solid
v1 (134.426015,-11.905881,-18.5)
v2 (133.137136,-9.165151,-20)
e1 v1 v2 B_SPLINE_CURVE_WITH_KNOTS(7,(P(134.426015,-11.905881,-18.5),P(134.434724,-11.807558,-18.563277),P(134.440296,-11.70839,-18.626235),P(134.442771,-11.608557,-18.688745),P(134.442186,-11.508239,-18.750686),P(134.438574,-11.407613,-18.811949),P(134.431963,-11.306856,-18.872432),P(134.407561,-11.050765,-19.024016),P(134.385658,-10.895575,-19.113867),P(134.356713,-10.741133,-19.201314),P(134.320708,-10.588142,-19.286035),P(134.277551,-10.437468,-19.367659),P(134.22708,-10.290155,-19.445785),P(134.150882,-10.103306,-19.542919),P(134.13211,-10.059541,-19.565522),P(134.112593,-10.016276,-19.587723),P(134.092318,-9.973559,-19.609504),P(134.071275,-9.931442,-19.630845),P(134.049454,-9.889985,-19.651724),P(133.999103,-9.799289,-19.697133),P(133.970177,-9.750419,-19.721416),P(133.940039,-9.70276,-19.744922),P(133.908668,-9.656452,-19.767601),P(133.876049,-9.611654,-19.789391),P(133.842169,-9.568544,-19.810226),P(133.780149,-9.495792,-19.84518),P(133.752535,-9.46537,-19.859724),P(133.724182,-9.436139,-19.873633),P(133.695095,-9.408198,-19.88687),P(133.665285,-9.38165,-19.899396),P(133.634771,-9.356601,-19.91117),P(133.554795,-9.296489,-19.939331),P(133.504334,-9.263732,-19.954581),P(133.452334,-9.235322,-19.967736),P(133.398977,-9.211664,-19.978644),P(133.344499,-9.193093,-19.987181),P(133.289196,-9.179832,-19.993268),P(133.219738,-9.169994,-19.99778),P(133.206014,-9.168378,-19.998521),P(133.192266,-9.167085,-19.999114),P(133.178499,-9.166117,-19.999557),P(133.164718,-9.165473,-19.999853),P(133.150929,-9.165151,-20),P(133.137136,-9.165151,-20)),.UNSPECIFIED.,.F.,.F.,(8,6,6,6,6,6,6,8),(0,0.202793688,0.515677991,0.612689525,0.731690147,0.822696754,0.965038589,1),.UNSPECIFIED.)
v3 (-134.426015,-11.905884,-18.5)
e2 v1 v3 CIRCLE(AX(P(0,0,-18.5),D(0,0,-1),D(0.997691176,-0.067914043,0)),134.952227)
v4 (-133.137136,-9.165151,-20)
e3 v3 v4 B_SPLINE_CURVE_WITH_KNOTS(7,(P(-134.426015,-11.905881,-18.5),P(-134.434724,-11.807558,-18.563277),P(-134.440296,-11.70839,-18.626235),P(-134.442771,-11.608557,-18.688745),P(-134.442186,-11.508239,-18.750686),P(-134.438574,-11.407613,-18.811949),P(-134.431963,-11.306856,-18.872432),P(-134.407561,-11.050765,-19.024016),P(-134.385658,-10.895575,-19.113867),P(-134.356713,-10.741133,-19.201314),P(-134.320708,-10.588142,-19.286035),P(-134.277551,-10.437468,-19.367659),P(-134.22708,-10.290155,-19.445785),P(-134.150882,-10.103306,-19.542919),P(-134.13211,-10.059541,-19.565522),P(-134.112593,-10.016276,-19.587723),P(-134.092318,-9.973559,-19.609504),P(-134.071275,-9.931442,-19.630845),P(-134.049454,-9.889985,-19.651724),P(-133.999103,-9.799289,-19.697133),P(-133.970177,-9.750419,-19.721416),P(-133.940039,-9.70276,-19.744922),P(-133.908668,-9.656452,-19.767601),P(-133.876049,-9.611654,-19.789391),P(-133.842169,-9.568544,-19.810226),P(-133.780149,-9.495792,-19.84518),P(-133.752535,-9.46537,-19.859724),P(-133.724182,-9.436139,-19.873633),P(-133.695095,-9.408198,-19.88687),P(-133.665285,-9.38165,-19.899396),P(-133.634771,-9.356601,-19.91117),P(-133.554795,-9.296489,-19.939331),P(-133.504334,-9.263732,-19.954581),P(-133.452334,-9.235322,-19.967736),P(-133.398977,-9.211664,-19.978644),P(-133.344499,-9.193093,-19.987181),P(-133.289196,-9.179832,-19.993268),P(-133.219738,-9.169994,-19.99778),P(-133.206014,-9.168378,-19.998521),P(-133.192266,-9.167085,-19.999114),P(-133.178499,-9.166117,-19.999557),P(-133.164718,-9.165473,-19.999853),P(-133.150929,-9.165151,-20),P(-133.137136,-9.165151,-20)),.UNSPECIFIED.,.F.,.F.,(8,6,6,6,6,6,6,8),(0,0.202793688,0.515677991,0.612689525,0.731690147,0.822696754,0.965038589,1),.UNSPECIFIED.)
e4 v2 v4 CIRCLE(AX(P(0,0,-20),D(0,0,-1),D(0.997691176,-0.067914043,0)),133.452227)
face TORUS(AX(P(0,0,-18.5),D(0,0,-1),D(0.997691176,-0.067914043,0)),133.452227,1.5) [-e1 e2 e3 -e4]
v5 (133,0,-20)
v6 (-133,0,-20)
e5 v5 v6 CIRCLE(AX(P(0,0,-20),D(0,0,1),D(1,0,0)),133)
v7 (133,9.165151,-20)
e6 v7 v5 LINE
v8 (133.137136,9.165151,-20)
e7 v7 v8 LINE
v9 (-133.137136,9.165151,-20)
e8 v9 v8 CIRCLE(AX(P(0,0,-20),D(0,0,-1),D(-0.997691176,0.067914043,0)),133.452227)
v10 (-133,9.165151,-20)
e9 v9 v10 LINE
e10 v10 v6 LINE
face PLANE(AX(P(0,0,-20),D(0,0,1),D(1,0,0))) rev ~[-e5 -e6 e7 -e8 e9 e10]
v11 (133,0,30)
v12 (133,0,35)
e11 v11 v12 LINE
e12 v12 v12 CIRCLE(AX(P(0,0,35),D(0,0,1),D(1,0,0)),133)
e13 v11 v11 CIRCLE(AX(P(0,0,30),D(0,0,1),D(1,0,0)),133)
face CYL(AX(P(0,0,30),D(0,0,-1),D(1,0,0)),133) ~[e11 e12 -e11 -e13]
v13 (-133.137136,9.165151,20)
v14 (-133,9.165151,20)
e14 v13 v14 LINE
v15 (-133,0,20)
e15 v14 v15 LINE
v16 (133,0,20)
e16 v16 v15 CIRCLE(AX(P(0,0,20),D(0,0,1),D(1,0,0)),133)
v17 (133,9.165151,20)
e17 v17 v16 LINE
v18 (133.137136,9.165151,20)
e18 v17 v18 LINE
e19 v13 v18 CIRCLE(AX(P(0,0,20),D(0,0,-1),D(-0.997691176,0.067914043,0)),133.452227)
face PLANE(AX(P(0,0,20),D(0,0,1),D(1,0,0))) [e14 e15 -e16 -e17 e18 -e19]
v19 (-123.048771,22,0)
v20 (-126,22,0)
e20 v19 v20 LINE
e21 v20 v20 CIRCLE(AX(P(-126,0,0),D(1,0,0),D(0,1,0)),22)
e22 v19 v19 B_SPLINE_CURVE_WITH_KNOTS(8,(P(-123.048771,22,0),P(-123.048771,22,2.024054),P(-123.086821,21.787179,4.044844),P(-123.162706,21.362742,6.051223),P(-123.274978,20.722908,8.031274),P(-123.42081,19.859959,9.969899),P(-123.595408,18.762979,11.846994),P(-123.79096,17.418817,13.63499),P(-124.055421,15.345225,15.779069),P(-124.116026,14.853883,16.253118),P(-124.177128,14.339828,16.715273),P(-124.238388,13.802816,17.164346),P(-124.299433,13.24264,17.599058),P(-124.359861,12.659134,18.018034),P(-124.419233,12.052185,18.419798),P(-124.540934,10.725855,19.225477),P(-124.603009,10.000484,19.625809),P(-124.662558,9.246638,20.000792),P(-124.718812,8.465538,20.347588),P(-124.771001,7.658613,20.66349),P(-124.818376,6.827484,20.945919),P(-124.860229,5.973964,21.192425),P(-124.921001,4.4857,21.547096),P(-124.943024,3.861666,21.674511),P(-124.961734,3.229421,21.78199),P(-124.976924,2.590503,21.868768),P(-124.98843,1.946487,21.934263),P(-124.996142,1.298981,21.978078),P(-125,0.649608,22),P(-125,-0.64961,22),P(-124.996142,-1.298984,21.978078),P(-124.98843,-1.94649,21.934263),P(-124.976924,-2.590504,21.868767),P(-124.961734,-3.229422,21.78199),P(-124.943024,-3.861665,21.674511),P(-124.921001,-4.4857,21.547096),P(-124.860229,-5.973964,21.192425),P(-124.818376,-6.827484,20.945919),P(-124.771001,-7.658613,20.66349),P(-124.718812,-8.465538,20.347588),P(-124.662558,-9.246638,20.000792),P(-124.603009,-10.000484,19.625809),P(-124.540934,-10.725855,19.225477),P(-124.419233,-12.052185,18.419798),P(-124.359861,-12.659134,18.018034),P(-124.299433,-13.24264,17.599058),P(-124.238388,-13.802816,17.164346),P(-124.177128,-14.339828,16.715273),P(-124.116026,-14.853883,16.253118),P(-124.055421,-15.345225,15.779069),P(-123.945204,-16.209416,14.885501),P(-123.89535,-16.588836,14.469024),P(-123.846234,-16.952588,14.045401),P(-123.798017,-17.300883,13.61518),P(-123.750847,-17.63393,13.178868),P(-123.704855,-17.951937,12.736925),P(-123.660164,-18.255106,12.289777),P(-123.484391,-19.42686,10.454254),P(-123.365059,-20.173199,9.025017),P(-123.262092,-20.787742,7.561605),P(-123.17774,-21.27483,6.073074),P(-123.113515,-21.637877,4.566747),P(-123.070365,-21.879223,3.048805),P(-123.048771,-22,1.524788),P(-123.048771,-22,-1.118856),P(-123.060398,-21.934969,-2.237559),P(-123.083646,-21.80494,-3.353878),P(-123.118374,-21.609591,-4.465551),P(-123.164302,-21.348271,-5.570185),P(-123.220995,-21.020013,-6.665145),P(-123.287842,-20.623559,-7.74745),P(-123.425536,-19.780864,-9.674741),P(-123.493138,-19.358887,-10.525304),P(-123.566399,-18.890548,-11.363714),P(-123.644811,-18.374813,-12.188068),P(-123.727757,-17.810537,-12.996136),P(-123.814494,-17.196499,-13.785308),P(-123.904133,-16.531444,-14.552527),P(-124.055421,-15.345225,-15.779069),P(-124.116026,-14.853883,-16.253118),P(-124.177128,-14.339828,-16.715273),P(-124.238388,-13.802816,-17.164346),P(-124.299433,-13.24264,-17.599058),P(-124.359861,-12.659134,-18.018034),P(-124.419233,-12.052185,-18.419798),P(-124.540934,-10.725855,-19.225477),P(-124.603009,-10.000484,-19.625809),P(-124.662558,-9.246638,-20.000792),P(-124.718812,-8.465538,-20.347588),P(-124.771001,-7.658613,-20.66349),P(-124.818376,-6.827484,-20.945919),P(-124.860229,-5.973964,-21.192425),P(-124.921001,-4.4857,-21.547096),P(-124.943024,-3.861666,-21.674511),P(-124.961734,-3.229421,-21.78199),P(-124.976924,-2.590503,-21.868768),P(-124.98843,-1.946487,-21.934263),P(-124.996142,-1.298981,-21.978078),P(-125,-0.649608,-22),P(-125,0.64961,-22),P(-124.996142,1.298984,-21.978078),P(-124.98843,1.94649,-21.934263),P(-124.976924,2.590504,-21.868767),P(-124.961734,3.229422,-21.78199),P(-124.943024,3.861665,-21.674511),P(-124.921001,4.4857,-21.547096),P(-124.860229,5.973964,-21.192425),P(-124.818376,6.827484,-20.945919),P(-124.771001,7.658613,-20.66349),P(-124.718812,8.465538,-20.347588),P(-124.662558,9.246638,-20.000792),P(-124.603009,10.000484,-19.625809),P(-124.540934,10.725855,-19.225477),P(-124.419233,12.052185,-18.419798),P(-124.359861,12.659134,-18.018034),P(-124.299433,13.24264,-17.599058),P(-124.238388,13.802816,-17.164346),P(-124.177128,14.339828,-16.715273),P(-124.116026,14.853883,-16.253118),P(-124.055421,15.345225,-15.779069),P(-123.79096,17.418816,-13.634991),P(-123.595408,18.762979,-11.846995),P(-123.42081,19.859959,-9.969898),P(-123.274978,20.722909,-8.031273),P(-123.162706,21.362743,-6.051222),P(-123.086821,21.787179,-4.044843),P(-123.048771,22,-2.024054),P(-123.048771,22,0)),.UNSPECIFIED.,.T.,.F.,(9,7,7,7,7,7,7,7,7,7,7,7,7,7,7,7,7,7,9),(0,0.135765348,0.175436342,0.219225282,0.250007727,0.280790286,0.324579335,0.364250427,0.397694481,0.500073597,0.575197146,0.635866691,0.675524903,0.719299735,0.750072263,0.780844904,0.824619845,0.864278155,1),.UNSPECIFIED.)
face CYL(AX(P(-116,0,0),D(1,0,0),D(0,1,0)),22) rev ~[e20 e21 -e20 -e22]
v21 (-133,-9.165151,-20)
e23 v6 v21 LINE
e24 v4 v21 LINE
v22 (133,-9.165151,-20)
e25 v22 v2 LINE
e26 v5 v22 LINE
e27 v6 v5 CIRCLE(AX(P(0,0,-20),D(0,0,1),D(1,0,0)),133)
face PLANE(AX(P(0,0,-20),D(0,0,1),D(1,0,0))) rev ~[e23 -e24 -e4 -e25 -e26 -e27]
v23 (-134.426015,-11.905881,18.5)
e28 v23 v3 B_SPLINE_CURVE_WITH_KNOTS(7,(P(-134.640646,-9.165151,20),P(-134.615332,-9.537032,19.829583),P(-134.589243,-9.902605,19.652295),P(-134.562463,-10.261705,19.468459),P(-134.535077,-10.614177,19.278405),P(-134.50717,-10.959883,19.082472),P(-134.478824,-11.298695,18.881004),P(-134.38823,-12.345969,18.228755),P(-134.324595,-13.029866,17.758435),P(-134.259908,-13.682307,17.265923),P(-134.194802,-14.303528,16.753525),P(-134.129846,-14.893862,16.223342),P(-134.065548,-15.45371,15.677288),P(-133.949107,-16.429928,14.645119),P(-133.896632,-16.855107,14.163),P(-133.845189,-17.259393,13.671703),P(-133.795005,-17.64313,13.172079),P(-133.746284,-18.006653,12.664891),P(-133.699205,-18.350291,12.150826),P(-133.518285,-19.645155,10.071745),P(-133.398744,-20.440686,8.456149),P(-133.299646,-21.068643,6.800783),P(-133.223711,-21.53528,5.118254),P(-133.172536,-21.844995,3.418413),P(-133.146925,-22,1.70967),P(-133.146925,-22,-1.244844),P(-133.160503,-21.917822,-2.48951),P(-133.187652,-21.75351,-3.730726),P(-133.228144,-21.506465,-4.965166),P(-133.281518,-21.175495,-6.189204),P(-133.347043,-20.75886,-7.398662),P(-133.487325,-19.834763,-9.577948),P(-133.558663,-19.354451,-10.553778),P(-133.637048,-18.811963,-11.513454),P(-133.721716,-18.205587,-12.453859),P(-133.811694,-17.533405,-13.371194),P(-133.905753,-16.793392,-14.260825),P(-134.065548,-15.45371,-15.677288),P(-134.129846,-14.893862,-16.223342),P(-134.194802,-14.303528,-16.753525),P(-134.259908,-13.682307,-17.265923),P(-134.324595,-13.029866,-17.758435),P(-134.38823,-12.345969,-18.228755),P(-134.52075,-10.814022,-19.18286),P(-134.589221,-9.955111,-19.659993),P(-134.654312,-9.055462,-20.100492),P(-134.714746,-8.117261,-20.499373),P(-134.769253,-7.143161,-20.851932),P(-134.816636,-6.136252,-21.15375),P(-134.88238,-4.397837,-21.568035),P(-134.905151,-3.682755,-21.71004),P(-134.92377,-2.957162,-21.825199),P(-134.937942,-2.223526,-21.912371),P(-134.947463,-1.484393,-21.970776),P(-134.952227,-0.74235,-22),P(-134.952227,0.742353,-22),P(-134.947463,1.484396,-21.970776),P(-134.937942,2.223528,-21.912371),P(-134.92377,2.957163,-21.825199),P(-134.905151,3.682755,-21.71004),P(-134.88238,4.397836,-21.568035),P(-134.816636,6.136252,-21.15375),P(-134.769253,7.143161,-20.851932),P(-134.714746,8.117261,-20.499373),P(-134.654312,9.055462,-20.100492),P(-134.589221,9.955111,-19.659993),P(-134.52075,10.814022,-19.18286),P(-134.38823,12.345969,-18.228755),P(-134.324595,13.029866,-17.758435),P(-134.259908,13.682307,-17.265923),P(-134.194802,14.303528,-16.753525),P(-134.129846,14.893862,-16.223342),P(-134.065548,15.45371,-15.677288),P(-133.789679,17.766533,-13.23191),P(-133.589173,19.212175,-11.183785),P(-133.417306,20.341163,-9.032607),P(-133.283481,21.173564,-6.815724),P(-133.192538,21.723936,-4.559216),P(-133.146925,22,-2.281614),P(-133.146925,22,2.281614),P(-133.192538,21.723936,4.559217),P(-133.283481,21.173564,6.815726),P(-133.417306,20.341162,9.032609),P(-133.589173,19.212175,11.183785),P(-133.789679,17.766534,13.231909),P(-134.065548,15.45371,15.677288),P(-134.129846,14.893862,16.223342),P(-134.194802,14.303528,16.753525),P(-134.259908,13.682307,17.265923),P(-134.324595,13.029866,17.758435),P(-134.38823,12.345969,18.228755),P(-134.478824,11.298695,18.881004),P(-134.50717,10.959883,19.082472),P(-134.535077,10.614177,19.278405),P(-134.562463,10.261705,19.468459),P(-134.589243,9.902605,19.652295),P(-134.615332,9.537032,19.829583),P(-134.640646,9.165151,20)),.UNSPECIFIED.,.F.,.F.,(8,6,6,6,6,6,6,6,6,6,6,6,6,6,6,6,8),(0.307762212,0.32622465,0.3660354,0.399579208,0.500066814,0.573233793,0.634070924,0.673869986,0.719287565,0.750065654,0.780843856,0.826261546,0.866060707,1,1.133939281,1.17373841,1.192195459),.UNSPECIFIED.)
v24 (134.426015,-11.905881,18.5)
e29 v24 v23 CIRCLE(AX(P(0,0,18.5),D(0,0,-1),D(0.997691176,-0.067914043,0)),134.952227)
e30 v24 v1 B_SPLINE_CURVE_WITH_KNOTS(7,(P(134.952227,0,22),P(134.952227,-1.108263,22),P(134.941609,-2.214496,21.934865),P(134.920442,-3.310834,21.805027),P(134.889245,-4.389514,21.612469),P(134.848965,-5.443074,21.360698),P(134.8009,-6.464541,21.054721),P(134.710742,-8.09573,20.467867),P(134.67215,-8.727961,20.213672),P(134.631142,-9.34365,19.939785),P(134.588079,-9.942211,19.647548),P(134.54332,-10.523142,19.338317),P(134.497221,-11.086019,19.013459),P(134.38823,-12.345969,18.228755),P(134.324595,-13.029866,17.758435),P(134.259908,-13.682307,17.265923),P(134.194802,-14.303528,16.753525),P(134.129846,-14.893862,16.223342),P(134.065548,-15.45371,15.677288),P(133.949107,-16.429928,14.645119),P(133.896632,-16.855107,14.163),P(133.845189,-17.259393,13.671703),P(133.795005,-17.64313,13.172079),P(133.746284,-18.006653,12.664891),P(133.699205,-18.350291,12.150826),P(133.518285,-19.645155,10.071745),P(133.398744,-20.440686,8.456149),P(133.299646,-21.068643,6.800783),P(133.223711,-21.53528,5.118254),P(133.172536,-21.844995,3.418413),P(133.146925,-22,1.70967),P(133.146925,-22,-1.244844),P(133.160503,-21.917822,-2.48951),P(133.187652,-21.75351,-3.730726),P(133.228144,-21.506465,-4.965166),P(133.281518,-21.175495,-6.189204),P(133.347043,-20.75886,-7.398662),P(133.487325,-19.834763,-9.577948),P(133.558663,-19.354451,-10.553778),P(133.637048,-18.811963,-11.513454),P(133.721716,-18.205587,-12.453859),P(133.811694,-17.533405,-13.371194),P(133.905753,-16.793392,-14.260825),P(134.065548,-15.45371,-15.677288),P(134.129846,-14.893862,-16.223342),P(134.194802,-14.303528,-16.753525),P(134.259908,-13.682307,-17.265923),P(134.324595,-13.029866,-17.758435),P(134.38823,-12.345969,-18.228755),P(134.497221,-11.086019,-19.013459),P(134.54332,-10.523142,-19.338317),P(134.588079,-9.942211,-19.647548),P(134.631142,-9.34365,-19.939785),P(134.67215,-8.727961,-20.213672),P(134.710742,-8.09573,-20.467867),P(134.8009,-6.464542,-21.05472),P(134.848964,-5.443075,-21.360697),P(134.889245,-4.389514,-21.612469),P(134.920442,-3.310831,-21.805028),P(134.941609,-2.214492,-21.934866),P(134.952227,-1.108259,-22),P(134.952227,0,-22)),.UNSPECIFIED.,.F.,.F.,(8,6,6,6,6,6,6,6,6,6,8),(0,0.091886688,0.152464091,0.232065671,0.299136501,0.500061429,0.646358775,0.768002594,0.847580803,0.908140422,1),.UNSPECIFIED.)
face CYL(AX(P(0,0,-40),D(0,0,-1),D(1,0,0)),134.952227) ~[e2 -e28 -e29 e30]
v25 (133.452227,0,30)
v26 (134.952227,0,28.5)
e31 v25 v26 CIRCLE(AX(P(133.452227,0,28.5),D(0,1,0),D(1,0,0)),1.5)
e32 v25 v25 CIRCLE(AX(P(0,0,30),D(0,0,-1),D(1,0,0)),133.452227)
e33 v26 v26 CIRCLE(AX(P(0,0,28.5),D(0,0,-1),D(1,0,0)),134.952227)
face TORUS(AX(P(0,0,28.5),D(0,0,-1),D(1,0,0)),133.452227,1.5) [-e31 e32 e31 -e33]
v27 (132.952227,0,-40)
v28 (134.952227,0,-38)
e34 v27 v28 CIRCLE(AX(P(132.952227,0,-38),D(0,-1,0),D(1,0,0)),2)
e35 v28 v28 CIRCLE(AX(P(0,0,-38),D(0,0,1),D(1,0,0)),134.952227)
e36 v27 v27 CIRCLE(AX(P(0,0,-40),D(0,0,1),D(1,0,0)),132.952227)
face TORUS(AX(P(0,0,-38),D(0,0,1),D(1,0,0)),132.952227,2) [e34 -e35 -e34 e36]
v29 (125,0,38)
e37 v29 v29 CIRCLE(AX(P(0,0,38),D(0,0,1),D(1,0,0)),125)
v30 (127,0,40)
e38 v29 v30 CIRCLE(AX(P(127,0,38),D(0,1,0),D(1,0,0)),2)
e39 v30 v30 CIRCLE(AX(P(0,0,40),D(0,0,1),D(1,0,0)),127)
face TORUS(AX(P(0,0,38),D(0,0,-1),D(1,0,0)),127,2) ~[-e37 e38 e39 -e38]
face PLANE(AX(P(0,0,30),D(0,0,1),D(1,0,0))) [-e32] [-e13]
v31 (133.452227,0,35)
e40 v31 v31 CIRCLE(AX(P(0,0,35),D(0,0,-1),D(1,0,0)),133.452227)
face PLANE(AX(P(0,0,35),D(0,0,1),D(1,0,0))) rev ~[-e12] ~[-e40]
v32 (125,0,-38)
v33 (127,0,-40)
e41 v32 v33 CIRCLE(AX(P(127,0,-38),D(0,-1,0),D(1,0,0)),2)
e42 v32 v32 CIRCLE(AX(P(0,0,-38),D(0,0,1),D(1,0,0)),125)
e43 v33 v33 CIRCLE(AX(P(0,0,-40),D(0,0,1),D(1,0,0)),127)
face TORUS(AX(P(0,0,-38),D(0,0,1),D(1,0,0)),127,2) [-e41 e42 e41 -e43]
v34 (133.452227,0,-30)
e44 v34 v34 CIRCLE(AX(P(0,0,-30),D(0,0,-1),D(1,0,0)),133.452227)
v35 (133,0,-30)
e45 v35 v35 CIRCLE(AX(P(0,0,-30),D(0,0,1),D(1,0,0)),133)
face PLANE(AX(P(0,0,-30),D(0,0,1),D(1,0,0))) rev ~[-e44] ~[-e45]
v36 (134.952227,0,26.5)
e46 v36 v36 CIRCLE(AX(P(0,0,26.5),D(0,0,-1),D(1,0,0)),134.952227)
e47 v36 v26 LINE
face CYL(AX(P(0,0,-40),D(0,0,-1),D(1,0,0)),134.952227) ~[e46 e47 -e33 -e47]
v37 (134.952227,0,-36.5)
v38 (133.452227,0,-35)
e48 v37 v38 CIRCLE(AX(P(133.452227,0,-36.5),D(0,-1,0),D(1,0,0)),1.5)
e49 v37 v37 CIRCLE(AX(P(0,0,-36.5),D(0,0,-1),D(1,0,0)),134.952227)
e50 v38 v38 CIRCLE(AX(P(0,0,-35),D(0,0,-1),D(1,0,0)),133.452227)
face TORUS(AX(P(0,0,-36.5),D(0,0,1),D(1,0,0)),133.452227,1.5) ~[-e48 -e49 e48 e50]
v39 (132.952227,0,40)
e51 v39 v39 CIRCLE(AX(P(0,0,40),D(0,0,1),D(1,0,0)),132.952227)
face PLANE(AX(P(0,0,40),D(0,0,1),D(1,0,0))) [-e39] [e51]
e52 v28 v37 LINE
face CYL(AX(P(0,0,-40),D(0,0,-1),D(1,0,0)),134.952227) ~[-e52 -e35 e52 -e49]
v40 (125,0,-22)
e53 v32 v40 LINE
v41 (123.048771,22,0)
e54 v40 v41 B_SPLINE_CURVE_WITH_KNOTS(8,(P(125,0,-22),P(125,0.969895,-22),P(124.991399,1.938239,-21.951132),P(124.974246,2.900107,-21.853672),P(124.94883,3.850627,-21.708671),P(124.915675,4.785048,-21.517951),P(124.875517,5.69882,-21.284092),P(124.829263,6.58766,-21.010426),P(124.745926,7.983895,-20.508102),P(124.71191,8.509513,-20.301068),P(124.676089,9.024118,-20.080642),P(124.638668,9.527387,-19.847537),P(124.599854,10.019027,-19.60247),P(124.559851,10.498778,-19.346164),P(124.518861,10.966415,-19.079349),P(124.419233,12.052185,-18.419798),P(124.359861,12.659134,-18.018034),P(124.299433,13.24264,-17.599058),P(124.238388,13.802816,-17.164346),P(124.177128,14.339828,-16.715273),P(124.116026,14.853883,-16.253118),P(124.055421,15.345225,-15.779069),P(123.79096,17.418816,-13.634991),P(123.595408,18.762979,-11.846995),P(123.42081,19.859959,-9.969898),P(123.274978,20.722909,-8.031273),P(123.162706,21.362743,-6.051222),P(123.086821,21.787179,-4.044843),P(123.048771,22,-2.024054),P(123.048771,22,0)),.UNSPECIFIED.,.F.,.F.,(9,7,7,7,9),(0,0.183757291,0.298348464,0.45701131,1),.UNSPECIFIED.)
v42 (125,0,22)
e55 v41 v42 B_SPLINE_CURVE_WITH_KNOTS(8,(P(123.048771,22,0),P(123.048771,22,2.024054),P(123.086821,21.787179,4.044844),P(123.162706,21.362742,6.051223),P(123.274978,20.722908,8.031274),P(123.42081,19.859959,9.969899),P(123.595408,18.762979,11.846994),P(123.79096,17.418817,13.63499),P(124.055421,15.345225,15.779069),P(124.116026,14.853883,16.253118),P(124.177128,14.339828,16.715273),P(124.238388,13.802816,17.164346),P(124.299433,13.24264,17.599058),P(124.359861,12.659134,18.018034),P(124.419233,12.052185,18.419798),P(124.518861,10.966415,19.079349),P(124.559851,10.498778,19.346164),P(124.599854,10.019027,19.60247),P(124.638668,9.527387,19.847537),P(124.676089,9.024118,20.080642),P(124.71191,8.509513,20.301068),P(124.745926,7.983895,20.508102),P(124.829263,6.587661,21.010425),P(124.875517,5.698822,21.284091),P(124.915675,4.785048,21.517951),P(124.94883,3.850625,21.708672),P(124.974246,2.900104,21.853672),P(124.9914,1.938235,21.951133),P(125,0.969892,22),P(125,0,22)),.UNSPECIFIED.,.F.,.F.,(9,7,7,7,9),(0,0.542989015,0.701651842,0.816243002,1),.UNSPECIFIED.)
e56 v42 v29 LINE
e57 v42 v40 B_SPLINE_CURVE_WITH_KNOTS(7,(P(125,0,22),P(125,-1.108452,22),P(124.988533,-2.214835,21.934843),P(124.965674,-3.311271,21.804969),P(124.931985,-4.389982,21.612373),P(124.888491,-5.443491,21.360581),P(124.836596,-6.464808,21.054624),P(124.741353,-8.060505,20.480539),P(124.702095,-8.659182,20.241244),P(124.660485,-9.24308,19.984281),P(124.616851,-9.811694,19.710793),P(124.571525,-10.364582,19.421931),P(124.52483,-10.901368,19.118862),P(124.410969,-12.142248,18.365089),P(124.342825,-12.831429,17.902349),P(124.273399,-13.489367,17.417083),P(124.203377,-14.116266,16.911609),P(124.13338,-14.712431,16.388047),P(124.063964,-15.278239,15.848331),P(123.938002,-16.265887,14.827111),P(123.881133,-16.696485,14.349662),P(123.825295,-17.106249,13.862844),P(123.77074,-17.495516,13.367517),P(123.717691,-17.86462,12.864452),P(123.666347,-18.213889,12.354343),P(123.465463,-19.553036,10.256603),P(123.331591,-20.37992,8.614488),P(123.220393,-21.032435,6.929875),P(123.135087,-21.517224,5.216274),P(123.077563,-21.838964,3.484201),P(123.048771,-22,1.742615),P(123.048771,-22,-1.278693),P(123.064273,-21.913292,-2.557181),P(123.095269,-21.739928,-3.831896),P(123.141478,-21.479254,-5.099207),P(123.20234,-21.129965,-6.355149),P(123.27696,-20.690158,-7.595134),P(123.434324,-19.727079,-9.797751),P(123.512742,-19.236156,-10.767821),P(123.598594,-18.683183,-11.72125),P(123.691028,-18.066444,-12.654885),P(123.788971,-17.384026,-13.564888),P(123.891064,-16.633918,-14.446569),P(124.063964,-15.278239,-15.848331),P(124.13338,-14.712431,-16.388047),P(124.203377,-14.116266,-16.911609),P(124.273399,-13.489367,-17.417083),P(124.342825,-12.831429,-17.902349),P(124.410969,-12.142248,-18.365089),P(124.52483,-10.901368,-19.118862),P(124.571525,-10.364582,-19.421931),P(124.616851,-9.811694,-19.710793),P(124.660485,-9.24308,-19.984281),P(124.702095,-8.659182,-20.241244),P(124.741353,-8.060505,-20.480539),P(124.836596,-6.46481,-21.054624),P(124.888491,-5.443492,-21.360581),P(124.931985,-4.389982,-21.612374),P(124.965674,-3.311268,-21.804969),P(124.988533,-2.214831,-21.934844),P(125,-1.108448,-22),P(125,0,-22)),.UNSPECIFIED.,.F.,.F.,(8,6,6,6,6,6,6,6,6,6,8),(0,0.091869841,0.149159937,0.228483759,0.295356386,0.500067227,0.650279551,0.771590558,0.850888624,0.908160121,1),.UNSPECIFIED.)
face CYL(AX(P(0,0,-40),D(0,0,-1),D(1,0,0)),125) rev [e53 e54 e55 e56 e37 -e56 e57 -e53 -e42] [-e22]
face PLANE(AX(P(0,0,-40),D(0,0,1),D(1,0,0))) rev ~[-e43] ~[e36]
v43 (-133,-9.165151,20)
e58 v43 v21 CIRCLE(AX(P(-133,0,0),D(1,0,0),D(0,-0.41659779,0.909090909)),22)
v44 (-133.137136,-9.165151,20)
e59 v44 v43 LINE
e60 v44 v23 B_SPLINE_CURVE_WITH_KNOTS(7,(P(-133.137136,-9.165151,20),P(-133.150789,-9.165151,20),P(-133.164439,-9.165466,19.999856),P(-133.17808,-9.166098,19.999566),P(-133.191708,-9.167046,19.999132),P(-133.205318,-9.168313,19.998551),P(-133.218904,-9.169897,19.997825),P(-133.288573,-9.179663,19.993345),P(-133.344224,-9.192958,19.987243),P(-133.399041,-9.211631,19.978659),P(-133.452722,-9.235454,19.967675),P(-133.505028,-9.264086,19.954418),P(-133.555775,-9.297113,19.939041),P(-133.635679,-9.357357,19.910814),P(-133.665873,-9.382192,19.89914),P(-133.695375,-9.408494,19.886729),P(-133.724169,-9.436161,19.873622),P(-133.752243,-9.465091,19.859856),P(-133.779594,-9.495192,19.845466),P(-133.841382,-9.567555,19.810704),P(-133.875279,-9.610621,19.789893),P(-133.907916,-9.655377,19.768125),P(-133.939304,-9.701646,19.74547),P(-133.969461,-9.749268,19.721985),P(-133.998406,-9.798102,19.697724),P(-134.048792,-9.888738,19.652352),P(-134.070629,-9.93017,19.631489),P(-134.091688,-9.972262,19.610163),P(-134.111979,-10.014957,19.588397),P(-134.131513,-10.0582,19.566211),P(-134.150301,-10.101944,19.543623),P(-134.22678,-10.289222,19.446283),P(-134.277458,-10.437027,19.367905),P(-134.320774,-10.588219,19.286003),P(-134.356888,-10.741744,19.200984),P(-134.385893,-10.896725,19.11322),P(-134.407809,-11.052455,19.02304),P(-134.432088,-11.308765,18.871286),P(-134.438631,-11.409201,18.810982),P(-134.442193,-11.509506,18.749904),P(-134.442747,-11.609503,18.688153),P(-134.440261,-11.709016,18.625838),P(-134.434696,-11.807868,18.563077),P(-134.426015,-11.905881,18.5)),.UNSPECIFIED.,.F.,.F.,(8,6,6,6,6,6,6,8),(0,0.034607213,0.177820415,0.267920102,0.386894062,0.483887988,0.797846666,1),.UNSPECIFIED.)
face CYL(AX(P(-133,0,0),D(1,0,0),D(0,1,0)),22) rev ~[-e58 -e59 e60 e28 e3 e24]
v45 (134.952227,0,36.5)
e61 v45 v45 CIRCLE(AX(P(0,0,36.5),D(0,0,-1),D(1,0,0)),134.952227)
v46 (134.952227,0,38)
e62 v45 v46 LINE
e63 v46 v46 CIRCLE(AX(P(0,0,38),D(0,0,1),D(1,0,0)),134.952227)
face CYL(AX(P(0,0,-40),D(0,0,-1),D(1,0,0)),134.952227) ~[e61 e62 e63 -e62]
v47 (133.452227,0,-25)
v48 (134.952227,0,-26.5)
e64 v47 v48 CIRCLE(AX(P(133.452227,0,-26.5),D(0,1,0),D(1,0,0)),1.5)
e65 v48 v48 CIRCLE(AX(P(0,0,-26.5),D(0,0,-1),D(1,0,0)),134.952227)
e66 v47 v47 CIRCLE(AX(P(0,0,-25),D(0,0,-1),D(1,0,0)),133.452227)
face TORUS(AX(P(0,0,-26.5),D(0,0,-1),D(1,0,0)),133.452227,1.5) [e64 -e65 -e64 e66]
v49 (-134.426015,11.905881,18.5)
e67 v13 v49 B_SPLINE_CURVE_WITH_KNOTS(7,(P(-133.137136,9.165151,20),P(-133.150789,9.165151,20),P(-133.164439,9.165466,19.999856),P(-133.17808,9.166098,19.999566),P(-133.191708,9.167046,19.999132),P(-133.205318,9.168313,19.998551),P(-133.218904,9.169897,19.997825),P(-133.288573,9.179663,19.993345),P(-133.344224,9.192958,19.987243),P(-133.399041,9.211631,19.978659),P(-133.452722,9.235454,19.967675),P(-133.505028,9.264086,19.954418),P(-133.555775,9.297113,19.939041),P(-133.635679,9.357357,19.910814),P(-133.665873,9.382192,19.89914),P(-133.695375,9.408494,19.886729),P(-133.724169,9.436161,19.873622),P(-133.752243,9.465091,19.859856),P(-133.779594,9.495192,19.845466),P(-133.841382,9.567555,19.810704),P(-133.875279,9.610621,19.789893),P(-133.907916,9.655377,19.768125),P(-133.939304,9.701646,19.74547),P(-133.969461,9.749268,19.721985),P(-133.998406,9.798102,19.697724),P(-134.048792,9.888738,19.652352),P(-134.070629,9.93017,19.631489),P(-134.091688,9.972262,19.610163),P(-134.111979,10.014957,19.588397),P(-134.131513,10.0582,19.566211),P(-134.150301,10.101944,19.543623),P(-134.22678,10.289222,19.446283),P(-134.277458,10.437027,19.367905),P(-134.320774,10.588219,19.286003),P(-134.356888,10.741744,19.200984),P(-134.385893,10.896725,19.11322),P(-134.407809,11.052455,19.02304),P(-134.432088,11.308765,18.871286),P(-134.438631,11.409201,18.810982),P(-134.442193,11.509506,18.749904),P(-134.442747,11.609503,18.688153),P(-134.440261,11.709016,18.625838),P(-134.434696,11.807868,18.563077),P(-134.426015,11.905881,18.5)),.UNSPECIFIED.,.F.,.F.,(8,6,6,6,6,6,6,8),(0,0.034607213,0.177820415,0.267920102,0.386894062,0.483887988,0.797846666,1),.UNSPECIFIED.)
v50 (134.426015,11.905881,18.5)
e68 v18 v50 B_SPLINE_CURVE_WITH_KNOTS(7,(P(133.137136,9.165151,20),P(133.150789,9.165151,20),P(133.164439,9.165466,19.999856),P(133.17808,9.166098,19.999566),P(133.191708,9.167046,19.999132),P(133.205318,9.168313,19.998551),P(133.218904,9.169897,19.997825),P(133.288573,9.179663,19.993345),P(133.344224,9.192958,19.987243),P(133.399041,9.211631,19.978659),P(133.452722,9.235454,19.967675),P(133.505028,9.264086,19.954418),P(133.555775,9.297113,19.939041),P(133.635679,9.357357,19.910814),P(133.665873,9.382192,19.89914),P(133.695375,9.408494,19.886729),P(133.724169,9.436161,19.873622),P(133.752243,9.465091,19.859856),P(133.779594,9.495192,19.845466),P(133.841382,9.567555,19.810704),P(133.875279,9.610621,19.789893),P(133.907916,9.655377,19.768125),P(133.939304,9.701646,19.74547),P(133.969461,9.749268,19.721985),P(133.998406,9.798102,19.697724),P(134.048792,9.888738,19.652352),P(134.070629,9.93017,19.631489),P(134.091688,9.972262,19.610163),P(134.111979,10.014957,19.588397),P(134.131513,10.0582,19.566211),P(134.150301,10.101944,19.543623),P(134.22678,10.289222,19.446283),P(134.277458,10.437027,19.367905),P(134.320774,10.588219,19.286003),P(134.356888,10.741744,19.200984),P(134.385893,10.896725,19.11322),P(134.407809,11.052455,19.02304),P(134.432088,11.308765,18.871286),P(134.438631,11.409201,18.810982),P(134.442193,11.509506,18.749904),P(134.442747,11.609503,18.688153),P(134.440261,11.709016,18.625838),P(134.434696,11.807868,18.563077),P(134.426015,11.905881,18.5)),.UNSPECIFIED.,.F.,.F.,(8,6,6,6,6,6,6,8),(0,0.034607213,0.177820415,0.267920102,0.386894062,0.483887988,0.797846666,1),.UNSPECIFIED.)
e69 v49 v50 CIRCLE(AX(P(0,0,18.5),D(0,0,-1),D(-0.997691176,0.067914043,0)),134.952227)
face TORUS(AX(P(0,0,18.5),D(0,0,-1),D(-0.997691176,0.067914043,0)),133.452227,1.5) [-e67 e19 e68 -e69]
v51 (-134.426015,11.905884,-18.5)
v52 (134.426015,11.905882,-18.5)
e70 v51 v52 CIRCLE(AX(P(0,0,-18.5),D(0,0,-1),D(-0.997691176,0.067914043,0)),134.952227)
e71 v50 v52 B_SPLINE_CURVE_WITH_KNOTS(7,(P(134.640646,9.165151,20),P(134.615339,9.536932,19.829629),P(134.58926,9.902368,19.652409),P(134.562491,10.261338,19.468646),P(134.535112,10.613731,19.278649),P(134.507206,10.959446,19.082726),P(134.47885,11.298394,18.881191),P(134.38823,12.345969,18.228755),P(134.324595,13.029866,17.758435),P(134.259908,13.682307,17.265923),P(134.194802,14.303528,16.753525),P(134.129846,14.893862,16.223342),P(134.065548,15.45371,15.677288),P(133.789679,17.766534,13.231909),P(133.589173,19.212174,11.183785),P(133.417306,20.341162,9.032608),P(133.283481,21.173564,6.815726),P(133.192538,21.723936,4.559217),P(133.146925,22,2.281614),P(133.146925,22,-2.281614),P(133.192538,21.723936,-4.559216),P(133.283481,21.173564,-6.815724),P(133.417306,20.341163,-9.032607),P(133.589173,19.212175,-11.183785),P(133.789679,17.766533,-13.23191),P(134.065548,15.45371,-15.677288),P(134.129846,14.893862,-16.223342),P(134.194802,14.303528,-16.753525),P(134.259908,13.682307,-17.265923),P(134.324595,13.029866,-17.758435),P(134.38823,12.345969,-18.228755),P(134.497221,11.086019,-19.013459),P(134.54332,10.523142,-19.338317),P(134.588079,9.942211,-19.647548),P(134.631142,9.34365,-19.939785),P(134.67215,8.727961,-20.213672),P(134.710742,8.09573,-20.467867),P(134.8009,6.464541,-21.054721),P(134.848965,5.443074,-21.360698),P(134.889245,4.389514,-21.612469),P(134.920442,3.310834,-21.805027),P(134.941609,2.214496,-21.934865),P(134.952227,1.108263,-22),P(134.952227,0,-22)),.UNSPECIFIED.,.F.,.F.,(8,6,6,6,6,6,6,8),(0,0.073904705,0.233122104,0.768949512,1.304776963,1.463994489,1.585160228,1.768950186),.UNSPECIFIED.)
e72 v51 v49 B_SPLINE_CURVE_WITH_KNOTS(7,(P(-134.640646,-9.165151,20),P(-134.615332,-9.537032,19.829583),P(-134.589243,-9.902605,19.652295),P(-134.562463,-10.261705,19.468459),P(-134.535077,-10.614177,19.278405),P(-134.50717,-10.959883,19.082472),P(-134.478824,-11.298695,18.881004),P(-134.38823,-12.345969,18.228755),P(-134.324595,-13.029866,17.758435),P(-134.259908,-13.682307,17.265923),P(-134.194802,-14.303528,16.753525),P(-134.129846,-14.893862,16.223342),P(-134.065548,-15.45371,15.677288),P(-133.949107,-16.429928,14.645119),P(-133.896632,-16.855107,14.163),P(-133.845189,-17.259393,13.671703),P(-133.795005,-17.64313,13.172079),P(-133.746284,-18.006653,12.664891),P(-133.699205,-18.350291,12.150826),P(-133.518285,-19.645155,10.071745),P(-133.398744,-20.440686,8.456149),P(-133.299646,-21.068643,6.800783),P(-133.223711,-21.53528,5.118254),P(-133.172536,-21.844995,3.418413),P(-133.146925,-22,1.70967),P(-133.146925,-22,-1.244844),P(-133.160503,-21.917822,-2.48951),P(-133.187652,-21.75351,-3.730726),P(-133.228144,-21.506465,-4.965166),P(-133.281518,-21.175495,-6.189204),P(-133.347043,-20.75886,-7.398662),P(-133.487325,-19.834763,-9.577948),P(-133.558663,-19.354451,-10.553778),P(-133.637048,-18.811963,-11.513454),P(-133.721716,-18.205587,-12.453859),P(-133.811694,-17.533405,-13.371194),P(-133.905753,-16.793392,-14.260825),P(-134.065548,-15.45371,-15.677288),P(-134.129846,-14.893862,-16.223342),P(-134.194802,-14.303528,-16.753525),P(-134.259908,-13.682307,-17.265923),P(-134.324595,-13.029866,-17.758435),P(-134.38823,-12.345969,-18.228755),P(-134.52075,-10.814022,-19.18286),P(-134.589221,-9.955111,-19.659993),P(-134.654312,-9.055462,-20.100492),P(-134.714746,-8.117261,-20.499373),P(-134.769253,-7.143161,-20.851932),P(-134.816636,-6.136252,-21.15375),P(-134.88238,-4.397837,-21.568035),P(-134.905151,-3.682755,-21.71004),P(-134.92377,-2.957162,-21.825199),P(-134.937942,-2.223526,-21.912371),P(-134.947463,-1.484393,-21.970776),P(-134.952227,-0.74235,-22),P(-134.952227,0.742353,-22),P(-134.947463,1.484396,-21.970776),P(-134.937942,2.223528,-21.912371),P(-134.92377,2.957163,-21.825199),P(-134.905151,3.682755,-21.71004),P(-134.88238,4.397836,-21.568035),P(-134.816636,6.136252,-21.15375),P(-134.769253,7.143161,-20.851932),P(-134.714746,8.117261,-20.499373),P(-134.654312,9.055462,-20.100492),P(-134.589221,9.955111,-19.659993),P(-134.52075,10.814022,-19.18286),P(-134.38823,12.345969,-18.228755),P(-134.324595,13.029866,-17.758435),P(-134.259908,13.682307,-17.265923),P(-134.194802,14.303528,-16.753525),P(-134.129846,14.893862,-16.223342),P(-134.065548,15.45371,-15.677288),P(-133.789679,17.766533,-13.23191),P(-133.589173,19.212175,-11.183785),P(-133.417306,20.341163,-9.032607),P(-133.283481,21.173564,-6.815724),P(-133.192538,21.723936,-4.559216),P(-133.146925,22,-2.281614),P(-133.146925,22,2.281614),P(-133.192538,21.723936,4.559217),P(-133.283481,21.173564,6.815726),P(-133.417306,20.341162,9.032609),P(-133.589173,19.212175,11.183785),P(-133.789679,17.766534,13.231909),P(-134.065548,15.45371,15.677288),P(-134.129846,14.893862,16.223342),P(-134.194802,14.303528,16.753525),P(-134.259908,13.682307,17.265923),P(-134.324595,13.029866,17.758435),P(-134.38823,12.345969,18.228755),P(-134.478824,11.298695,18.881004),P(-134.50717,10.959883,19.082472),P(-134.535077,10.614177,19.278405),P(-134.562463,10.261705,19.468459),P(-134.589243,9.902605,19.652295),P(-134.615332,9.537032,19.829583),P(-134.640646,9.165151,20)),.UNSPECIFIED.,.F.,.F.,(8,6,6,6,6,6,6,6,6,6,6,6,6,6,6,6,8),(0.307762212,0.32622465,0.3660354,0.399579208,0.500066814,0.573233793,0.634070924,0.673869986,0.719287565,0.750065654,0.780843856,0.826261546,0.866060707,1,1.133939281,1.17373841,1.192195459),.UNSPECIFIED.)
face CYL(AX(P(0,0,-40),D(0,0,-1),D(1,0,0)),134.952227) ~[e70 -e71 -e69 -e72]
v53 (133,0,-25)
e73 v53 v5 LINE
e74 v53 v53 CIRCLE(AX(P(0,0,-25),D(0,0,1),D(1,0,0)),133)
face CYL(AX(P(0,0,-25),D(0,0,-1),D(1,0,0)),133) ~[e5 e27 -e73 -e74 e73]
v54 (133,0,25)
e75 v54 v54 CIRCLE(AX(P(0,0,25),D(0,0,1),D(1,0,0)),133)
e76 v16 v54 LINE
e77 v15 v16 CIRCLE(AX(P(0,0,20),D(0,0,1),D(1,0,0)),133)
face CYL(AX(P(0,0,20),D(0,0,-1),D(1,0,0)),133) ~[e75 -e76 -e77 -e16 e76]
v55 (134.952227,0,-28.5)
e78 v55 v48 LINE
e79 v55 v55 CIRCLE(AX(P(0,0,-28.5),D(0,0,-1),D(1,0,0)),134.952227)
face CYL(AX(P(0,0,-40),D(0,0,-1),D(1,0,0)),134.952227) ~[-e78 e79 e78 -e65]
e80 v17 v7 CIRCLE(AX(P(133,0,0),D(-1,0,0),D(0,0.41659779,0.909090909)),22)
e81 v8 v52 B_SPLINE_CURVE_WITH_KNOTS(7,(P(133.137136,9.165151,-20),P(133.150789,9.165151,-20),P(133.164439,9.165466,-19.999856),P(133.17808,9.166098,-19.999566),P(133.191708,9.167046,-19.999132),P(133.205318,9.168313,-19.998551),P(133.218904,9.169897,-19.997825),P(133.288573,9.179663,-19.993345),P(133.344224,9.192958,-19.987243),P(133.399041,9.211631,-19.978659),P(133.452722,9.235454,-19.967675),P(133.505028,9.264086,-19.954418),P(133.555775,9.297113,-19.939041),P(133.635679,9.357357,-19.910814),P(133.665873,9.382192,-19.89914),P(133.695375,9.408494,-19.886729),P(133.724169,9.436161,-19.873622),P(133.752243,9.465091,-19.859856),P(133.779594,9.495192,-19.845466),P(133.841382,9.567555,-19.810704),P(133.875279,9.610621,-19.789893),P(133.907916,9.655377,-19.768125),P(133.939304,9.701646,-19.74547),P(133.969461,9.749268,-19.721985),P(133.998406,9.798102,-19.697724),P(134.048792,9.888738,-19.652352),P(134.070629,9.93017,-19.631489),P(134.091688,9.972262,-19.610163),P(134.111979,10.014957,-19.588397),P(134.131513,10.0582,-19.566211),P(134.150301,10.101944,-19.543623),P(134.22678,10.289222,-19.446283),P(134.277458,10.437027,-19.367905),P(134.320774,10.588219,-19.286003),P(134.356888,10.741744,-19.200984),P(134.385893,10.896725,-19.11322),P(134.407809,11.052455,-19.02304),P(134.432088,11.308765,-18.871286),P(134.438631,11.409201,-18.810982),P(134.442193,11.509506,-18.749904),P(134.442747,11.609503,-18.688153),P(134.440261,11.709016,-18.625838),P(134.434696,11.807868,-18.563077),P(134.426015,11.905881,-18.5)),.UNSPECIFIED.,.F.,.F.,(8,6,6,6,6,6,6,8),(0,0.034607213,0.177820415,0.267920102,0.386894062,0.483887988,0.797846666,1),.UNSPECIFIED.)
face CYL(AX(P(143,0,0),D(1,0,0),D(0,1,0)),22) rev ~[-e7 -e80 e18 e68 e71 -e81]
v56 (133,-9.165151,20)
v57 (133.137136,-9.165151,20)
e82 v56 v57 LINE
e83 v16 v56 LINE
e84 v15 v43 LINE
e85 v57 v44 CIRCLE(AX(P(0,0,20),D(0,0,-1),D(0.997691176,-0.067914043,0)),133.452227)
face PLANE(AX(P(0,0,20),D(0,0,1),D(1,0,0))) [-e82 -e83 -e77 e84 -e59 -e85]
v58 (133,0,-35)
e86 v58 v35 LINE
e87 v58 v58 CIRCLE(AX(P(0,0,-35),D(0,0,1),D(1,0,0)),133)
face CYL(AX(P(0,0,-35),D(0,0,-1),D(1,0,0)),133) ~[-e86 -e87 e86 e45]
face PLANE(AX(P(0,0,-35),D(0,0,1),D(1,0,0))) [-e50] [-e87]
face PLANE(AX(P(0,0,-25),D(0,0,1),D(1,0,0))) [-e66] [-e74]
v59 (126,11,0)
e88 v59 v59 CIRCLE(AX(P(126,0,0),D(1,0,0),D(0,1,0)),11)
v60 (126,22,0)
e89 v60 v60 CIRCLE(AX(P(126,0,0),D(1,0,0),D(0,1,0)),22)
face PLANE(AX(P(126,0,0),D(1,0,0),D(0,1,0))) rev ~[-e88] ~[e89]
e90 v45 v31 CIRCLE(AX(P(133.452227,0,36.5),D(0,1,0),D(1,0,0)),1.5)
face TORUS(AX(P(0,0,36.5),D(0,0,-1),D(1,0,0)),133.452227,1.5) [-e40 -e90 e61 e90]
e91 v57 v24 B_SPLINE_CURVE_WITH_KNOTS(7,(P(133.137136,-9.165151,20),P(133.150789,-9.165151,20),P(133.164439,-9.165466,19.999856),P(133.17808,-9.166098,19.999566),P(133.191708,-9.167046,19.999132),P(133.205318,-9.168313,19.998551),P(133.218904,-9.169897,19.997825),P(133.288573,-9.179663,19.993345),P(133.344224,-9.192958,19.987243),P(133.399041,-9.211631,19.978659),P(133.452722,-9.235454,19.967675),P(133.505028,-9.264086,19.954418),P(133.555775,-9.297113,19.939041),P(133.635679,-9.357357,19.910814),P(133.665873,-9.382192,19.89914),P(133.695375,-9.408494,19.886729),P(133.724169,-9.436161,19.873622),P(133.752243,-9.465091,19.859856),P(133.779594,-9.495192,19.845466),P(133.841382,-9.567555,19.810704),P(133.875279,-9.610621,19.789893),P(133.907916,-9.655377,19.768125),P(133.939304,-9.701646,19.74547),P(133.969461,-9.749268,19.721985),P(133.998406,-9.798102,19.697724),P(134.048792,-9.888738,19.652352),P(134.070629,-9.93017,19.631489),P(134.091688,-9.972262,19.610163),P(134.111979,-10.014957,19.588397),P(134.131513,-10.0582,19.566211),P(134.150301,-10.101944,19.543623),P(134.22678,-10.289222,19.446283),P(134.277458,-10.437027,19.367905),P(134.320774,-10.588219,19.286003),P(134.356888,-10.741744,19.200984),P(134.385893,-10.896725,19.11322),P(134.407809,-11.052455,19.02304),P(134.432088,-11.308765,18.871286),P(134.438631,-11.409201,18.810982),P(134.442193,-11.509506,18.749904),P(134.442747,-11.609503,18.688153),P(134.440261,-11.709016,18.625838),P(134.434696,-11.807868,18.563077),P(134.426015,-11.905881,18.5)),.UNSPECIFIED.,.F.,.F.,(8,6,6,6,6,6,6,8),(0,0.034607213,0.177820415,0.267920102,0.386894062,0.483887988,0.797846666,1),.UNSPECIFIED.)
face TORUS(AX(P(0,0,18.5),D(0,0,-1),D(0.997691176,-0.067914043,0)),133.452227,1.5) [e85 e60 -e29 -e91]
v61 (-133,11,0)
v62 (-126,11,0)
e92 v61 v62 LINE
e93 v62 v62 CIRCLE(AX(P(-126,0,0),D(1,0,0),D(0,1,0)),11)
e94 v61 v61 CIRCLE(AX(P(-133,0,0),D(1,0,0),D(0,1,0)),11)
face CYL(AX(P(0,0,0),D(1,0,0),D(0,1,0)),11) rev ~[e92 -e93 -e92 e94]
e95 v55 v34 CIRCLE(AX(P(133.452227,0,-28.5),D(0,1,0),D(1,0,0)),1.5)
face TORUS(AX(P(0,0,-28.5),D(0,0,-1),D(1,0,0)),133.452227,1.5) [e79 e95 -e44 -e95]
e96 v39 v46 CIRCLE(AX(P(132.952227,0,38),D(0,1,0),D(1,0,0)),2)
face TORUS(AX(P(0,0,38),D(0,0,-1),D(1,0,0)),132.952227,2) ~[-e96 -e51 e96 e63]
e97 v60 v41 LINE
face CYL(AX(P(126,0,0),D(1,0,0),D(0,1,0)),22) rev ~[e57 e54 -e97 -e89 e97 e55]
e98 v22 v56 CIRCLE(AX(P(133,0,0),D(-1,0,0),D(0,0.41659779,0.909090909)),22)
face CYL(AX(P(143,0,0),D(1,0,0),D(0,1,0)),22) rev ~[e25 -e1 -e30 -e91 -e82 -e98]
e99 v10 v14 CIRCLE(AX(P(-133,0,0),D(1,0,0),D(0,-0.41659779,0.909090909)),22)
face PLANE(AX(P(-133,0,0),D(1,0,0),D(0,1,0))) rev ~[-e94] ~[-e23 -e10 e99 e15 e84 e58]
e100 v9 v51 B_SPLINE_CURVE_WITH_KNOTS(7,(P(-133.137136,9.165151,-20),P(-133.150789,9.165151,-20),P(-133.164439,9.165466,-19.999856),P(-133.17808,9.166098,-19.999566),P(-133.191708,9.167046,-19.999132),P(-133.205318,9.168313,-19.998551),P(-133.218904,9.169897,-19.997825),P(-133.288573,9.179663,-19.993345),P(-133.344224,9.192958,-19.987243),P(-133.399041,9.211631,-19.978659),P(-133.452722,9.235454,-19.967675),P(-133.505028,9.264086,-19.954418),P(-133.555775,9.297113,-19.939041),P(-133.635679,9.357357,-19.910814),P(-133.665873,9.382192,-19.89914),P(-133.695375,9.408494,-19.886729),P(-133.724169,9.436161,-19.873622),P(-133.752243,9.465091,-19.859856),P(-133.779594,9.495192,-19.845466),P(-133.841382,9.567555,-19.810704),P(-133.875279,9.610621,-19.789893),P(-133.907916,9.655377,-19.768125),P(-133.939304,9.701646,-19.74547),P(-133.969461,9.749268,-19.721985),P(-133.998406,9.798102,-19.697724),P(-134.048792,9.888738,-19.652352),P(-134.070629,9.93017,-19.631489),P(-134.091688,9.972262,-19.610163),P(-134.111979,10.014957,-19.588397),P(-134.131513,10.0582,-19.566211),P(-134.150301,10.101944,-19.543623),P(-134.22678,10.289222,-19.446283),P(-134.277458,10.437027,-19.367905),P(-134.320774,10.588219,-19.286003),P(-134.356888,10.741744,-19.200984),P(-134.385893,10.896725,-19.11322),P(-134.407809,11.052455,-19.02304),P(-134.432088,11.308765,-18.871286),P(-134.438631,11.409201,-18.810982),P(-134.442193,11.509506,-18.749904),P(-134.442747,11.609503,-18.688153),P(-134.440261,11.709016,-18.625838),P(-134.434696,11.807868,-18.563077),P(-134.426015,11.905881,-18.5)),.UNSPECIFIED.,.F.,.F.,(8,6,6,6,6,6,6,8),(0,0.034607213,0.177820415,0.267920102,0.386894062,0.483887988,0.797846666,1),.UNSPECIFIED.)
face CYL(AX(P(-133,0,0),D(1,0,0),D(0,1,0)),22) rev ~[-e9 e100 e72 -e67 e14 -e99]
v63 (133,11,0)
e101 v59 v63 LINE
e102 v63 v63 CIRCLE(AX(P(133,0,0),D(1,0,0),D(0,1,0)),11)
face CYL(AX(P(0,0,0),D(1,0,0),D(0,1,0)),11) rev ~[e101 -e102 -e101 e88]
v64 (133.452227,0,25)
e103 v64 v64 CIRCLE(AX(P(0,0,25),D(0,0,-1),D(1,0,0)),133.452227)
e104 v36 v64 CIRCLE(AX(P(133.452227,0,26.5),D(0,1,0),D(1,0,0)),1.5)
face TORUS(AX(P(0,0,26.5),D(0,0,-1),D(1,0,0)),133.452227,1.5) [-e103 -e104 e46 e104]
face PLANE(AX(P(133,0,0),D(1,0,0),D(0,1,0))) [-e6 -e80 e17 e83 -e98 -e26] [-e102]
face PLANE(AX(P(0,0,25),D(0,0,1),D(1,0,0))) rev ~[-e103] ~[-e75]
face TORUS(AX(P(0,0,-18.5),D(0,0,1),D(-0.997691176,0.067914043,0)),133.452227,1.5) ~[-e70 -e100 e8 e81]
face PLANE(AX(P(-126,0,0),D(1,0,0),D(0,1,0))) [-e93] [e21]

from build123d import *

# Parameters (mm, degrees)
SKETCH005_R      = 140.350312
SKETCH005_R_2    = 133
EXTRUDE011_DEPTH = 5
EXTRUDE010_DEPTH = 5
EXTRUDE008_DEPTH = 5
EXTRUDE009_DEPTH = 5
SKETCH004_R      = 157.293563
EXTRUDE007_DEPTH = 50
SKETCH003_R      = 22
EXTRUDE004_DEPTH = 10
EXTRUDE005_DEPTH = 10
EXTRUDE006_DEPTH = 10
EXTRUDE002_DEPTH = 10
SKETCH002_R      = 11
EXTRUDE_DEPTH    = 150
SKETCH_R         = 134.952227
SKETCH_R_2       = 125
EXTRUDE001_DEPTH = 80
FILLET_R         = 2
FILLET001_R      = 1.5
FILLET002_R      = 1.5
FILLET003_R      = 1.5
FILLET004_R      = 1.5
FILLET005_R      = 2


with BuildPart() as extrude011:
    # Sketch005 → Extrude011 (new body)
    with BuildSketch(Plane.XY):
        Circle(SKETCH005_R)
        Circle(SKETCH005_R_2, mode=Mode.SUBTRACT)
    extrude(amount=EXTRUDE011_DEPTH)


with BuildPart() as extrude011_1:
    # Extrude011 placement: moved
    add(extrude011.part.moved(Location((0, 0, -35))))


with BuildPart() as extrude010:
    # Sketch005 → Extrude010 (new body)
    with BuildSketch(Plane.XY):
        Circle(SKETCH005_R)
        Circle(SKETCH005_R_2, mode=Mode.SUBTRACT)
    extrude(amount=EXTRUDE010_DEPTH)


with BuildPart() as extrude010_1:
    # Extrude010 placement: moved
    add(extrude010.part.moved(Location((0, 0, -25))))


with BuildPart() as extrude008:
    # Sketch005 → Extrude008 (new body)
    with BuildSketch(Plane.XY):
        Circle(SKETCH005_R)
        Circle(SKETCH005_R_2, mode=Mode.SUBTRACT)
    extrude(amount=EXTRUDE008_DEPTH)


with BuildPart() as extrude008_1:
    # Extrude008 placement: moved
    add(extrude008.part.moved(Location((0, 0, 20))))


with BuildPart() as extrude009:
    # Sketch005 → Extrude009 (new body)
    with BuildSketch(Plane.XY):
        Circle(SKETCH005_R)
        Circle(SKETCH005_R_2, mode=Mode.SUBTRACT)
    extrude(amount=EXTRUDE009_DEPTH)


with BuildPart() as extrude009_1:
    # Extrude009 placement: moved
    add(extrude009.part.moved(Location((0, 0, 30))))


with BuildPart() as extrude007:
    # Sketch004 → Extrude007 (new body)
    with BuildSketch(Plane.XY):
        Circle(SKETCH004_R)
    extrude(amount=EXTRUDE007_DEPTH)


with BuildPart() as extrude007_1:
    # Extrude007 placement: moved
    add(extrude007.part.moved(Location((0, 0, 51))))


with BuildPart() as extrude004:
    # Sketch003 (on Face3 of Extrude) → Extrude004 (new body)
    with BuildSketch(Plane.YZ.offset(150)):
        Circle(SKETCH003_R)
    extrude(amount=-EXTRUDE004_DEPTH)


with BuildPart() as extrude004_1:
    # Extrude004 placement: moved
    add(extrude004.part.moved(Location((-283, 0, 0))))


with BuildPart() as extrude005:
    # Sketch003 (on Face3 of Extrude) → Extrude005 (new body)
    with BuildSketch(Plane.YZ.offset(150)):
        Circle(SKETCH003_R)
    extrude(amount=-EXTRUDE005_DEPTH)


with BuildPart() as extrude005_1:
    # Extrude005 placement: moved
    add(extrude005.part.moved(Location((-266, 0, 0))))


with BuildPart() as extrude006:
    # Sketch003 (on Face3 of Extrude) → Extrude006 (new body)
    with BuildSketch(Plane.YZ.offset(150)):
        Circle(SKETCH003_R)
    extrude(amount=-EXTRUDE006_DEPTH)


with BuildPart() as extrude006_1:
    # Extrude006 placement: moved
    add(extrude006.part.moved(Location((-24, 0, 0))))


with BuildPart() as extrude002:
    # Sketch003 (on Face3 of Extrude) → Extrude002 (new body)
    with BuildSketch(Plane.YZ.offset(150)):
        Circle(SKETCH003_R)
    extrude(amount=-EXTRUDE002_DEPTH)


with BuildPart() as extrude002_1:
    # Extrude002 placement: moved
    add(extrude002.part.moved(Location((-7, 0, 0))))


with BuildPart() as extrude_body:
    # Sketch002 → Extrude (new body, symmetric)
    with BuildSketch(Plane.YZ):
        Circle(SKETCH002_R)
    extrude(amount=EXTRUDE_DEPTH, both=True)


with BuildPart() as fillet005:
    # Sketch → Extrude001 (new body)
    with BuildSketch(Plane.XY):
        Circle(SKETCH_R)
        Circle(SKETCH_R_2, mode=Mode.SUBTRACT)
    extrude(amount=EXTRUDE001_DEPTH)


with BuildPart() as fillet005_1:
    # Extrude001 placement: moved
    add(fillet005.part.moved(Location((0, 0, -40))))

    # Cut: cut Extrude body
    add(extrude_body.part, mode=Mode.SUBTRACT)

    # Cut001: cut Extrude002
    add(extrude002_1.part, mode=Mode.SUBTRACT)

    # Cut002: cut Extrude006
    add(extrude006_1.part, mode=Mode.SUBTRACT)

    # Cut003: cut Extrude005
    add(extrude005_1.part, mode=Mode.SUBTRACT)

    # Cut004: cut Extrude004
    add(extrude004_1.part, mode=Mode.SUBTRACT)

    # Cut005: cut Extrude007
    add(extrude007_1.part, mode=Mode.SUBTRACT)

    # Cut006: cut Extrude009
    add(extrude009_1.part, mode=Mode.SUBTRACT)

    # Cut007: cut Extrude008
    add(extrude008_1.part, mode=Mode.SUBTRACT)

    # Cut008: cut Extrude010
    add(extrude010_1.part, mode=Mode.SUBTRACT)

    # Cut009: cut Extrude011
    add(extrude011_1.part, mode=Mode.SUBTRACT)

    # Fillet
    fillet_edges = [fillet005_1.edges().sort_by_distance(p)[0] for p in [
        (-125, 0, 40),
        (-134.952227, 0, 40),
    ]]
    fillet(fillet_edges, radius=FILLET_R)

    # Fillet001
    fillet001_edges = [fillet005_1.edges().sort_by_distance(p)[0] for p in [
        (-134.952227, 0, 35),
    ]]
    fillet(fillet001_edges, radius=FILLET001_R)

    # Fillet002
    fillet002_edges = [fillet005_1.edges().sort_by_distance(p)[0] for p in [
        (-134.952227, 0, 30),
        (-134.952227, 0, 25),
        (0, 134.952227, 20),
    ]]
    fillet(fillet002_edges, radius=FILLET002_R)

    # Fillet003
    fillet003_edges = [fillet005_1.edges().sort_by_distance(p)[0] for p in [
        (0, -134.952227, 20),
    ]]
    fillet(fillet003_edges, radius=FILLET003_R)

    # Fillet004
    fillet004_edges = [fillet005_1.edges().sort_by_distance(p)[0] for p in [
        (0, -134.952227, -20),
        (0, 134.952227, -20),
        (-134.952227, 0, -25),
        (-134.952227, 0, -30),
        (-134.952227, 0, -35),
    ]]
    fillet(fillet004_edges, radius=FILLET004_R)

    # Fillet005
    fillet005_edges = [fillet005_1.edges().sort_by_distance(p)[0] for p in [
        (-125, 0, -40),
        (-134.952227, 0, -40),
    ]]
    fillet(fillet005_edges, radius=FILLET005_R)


solid = fillet005_1.part
